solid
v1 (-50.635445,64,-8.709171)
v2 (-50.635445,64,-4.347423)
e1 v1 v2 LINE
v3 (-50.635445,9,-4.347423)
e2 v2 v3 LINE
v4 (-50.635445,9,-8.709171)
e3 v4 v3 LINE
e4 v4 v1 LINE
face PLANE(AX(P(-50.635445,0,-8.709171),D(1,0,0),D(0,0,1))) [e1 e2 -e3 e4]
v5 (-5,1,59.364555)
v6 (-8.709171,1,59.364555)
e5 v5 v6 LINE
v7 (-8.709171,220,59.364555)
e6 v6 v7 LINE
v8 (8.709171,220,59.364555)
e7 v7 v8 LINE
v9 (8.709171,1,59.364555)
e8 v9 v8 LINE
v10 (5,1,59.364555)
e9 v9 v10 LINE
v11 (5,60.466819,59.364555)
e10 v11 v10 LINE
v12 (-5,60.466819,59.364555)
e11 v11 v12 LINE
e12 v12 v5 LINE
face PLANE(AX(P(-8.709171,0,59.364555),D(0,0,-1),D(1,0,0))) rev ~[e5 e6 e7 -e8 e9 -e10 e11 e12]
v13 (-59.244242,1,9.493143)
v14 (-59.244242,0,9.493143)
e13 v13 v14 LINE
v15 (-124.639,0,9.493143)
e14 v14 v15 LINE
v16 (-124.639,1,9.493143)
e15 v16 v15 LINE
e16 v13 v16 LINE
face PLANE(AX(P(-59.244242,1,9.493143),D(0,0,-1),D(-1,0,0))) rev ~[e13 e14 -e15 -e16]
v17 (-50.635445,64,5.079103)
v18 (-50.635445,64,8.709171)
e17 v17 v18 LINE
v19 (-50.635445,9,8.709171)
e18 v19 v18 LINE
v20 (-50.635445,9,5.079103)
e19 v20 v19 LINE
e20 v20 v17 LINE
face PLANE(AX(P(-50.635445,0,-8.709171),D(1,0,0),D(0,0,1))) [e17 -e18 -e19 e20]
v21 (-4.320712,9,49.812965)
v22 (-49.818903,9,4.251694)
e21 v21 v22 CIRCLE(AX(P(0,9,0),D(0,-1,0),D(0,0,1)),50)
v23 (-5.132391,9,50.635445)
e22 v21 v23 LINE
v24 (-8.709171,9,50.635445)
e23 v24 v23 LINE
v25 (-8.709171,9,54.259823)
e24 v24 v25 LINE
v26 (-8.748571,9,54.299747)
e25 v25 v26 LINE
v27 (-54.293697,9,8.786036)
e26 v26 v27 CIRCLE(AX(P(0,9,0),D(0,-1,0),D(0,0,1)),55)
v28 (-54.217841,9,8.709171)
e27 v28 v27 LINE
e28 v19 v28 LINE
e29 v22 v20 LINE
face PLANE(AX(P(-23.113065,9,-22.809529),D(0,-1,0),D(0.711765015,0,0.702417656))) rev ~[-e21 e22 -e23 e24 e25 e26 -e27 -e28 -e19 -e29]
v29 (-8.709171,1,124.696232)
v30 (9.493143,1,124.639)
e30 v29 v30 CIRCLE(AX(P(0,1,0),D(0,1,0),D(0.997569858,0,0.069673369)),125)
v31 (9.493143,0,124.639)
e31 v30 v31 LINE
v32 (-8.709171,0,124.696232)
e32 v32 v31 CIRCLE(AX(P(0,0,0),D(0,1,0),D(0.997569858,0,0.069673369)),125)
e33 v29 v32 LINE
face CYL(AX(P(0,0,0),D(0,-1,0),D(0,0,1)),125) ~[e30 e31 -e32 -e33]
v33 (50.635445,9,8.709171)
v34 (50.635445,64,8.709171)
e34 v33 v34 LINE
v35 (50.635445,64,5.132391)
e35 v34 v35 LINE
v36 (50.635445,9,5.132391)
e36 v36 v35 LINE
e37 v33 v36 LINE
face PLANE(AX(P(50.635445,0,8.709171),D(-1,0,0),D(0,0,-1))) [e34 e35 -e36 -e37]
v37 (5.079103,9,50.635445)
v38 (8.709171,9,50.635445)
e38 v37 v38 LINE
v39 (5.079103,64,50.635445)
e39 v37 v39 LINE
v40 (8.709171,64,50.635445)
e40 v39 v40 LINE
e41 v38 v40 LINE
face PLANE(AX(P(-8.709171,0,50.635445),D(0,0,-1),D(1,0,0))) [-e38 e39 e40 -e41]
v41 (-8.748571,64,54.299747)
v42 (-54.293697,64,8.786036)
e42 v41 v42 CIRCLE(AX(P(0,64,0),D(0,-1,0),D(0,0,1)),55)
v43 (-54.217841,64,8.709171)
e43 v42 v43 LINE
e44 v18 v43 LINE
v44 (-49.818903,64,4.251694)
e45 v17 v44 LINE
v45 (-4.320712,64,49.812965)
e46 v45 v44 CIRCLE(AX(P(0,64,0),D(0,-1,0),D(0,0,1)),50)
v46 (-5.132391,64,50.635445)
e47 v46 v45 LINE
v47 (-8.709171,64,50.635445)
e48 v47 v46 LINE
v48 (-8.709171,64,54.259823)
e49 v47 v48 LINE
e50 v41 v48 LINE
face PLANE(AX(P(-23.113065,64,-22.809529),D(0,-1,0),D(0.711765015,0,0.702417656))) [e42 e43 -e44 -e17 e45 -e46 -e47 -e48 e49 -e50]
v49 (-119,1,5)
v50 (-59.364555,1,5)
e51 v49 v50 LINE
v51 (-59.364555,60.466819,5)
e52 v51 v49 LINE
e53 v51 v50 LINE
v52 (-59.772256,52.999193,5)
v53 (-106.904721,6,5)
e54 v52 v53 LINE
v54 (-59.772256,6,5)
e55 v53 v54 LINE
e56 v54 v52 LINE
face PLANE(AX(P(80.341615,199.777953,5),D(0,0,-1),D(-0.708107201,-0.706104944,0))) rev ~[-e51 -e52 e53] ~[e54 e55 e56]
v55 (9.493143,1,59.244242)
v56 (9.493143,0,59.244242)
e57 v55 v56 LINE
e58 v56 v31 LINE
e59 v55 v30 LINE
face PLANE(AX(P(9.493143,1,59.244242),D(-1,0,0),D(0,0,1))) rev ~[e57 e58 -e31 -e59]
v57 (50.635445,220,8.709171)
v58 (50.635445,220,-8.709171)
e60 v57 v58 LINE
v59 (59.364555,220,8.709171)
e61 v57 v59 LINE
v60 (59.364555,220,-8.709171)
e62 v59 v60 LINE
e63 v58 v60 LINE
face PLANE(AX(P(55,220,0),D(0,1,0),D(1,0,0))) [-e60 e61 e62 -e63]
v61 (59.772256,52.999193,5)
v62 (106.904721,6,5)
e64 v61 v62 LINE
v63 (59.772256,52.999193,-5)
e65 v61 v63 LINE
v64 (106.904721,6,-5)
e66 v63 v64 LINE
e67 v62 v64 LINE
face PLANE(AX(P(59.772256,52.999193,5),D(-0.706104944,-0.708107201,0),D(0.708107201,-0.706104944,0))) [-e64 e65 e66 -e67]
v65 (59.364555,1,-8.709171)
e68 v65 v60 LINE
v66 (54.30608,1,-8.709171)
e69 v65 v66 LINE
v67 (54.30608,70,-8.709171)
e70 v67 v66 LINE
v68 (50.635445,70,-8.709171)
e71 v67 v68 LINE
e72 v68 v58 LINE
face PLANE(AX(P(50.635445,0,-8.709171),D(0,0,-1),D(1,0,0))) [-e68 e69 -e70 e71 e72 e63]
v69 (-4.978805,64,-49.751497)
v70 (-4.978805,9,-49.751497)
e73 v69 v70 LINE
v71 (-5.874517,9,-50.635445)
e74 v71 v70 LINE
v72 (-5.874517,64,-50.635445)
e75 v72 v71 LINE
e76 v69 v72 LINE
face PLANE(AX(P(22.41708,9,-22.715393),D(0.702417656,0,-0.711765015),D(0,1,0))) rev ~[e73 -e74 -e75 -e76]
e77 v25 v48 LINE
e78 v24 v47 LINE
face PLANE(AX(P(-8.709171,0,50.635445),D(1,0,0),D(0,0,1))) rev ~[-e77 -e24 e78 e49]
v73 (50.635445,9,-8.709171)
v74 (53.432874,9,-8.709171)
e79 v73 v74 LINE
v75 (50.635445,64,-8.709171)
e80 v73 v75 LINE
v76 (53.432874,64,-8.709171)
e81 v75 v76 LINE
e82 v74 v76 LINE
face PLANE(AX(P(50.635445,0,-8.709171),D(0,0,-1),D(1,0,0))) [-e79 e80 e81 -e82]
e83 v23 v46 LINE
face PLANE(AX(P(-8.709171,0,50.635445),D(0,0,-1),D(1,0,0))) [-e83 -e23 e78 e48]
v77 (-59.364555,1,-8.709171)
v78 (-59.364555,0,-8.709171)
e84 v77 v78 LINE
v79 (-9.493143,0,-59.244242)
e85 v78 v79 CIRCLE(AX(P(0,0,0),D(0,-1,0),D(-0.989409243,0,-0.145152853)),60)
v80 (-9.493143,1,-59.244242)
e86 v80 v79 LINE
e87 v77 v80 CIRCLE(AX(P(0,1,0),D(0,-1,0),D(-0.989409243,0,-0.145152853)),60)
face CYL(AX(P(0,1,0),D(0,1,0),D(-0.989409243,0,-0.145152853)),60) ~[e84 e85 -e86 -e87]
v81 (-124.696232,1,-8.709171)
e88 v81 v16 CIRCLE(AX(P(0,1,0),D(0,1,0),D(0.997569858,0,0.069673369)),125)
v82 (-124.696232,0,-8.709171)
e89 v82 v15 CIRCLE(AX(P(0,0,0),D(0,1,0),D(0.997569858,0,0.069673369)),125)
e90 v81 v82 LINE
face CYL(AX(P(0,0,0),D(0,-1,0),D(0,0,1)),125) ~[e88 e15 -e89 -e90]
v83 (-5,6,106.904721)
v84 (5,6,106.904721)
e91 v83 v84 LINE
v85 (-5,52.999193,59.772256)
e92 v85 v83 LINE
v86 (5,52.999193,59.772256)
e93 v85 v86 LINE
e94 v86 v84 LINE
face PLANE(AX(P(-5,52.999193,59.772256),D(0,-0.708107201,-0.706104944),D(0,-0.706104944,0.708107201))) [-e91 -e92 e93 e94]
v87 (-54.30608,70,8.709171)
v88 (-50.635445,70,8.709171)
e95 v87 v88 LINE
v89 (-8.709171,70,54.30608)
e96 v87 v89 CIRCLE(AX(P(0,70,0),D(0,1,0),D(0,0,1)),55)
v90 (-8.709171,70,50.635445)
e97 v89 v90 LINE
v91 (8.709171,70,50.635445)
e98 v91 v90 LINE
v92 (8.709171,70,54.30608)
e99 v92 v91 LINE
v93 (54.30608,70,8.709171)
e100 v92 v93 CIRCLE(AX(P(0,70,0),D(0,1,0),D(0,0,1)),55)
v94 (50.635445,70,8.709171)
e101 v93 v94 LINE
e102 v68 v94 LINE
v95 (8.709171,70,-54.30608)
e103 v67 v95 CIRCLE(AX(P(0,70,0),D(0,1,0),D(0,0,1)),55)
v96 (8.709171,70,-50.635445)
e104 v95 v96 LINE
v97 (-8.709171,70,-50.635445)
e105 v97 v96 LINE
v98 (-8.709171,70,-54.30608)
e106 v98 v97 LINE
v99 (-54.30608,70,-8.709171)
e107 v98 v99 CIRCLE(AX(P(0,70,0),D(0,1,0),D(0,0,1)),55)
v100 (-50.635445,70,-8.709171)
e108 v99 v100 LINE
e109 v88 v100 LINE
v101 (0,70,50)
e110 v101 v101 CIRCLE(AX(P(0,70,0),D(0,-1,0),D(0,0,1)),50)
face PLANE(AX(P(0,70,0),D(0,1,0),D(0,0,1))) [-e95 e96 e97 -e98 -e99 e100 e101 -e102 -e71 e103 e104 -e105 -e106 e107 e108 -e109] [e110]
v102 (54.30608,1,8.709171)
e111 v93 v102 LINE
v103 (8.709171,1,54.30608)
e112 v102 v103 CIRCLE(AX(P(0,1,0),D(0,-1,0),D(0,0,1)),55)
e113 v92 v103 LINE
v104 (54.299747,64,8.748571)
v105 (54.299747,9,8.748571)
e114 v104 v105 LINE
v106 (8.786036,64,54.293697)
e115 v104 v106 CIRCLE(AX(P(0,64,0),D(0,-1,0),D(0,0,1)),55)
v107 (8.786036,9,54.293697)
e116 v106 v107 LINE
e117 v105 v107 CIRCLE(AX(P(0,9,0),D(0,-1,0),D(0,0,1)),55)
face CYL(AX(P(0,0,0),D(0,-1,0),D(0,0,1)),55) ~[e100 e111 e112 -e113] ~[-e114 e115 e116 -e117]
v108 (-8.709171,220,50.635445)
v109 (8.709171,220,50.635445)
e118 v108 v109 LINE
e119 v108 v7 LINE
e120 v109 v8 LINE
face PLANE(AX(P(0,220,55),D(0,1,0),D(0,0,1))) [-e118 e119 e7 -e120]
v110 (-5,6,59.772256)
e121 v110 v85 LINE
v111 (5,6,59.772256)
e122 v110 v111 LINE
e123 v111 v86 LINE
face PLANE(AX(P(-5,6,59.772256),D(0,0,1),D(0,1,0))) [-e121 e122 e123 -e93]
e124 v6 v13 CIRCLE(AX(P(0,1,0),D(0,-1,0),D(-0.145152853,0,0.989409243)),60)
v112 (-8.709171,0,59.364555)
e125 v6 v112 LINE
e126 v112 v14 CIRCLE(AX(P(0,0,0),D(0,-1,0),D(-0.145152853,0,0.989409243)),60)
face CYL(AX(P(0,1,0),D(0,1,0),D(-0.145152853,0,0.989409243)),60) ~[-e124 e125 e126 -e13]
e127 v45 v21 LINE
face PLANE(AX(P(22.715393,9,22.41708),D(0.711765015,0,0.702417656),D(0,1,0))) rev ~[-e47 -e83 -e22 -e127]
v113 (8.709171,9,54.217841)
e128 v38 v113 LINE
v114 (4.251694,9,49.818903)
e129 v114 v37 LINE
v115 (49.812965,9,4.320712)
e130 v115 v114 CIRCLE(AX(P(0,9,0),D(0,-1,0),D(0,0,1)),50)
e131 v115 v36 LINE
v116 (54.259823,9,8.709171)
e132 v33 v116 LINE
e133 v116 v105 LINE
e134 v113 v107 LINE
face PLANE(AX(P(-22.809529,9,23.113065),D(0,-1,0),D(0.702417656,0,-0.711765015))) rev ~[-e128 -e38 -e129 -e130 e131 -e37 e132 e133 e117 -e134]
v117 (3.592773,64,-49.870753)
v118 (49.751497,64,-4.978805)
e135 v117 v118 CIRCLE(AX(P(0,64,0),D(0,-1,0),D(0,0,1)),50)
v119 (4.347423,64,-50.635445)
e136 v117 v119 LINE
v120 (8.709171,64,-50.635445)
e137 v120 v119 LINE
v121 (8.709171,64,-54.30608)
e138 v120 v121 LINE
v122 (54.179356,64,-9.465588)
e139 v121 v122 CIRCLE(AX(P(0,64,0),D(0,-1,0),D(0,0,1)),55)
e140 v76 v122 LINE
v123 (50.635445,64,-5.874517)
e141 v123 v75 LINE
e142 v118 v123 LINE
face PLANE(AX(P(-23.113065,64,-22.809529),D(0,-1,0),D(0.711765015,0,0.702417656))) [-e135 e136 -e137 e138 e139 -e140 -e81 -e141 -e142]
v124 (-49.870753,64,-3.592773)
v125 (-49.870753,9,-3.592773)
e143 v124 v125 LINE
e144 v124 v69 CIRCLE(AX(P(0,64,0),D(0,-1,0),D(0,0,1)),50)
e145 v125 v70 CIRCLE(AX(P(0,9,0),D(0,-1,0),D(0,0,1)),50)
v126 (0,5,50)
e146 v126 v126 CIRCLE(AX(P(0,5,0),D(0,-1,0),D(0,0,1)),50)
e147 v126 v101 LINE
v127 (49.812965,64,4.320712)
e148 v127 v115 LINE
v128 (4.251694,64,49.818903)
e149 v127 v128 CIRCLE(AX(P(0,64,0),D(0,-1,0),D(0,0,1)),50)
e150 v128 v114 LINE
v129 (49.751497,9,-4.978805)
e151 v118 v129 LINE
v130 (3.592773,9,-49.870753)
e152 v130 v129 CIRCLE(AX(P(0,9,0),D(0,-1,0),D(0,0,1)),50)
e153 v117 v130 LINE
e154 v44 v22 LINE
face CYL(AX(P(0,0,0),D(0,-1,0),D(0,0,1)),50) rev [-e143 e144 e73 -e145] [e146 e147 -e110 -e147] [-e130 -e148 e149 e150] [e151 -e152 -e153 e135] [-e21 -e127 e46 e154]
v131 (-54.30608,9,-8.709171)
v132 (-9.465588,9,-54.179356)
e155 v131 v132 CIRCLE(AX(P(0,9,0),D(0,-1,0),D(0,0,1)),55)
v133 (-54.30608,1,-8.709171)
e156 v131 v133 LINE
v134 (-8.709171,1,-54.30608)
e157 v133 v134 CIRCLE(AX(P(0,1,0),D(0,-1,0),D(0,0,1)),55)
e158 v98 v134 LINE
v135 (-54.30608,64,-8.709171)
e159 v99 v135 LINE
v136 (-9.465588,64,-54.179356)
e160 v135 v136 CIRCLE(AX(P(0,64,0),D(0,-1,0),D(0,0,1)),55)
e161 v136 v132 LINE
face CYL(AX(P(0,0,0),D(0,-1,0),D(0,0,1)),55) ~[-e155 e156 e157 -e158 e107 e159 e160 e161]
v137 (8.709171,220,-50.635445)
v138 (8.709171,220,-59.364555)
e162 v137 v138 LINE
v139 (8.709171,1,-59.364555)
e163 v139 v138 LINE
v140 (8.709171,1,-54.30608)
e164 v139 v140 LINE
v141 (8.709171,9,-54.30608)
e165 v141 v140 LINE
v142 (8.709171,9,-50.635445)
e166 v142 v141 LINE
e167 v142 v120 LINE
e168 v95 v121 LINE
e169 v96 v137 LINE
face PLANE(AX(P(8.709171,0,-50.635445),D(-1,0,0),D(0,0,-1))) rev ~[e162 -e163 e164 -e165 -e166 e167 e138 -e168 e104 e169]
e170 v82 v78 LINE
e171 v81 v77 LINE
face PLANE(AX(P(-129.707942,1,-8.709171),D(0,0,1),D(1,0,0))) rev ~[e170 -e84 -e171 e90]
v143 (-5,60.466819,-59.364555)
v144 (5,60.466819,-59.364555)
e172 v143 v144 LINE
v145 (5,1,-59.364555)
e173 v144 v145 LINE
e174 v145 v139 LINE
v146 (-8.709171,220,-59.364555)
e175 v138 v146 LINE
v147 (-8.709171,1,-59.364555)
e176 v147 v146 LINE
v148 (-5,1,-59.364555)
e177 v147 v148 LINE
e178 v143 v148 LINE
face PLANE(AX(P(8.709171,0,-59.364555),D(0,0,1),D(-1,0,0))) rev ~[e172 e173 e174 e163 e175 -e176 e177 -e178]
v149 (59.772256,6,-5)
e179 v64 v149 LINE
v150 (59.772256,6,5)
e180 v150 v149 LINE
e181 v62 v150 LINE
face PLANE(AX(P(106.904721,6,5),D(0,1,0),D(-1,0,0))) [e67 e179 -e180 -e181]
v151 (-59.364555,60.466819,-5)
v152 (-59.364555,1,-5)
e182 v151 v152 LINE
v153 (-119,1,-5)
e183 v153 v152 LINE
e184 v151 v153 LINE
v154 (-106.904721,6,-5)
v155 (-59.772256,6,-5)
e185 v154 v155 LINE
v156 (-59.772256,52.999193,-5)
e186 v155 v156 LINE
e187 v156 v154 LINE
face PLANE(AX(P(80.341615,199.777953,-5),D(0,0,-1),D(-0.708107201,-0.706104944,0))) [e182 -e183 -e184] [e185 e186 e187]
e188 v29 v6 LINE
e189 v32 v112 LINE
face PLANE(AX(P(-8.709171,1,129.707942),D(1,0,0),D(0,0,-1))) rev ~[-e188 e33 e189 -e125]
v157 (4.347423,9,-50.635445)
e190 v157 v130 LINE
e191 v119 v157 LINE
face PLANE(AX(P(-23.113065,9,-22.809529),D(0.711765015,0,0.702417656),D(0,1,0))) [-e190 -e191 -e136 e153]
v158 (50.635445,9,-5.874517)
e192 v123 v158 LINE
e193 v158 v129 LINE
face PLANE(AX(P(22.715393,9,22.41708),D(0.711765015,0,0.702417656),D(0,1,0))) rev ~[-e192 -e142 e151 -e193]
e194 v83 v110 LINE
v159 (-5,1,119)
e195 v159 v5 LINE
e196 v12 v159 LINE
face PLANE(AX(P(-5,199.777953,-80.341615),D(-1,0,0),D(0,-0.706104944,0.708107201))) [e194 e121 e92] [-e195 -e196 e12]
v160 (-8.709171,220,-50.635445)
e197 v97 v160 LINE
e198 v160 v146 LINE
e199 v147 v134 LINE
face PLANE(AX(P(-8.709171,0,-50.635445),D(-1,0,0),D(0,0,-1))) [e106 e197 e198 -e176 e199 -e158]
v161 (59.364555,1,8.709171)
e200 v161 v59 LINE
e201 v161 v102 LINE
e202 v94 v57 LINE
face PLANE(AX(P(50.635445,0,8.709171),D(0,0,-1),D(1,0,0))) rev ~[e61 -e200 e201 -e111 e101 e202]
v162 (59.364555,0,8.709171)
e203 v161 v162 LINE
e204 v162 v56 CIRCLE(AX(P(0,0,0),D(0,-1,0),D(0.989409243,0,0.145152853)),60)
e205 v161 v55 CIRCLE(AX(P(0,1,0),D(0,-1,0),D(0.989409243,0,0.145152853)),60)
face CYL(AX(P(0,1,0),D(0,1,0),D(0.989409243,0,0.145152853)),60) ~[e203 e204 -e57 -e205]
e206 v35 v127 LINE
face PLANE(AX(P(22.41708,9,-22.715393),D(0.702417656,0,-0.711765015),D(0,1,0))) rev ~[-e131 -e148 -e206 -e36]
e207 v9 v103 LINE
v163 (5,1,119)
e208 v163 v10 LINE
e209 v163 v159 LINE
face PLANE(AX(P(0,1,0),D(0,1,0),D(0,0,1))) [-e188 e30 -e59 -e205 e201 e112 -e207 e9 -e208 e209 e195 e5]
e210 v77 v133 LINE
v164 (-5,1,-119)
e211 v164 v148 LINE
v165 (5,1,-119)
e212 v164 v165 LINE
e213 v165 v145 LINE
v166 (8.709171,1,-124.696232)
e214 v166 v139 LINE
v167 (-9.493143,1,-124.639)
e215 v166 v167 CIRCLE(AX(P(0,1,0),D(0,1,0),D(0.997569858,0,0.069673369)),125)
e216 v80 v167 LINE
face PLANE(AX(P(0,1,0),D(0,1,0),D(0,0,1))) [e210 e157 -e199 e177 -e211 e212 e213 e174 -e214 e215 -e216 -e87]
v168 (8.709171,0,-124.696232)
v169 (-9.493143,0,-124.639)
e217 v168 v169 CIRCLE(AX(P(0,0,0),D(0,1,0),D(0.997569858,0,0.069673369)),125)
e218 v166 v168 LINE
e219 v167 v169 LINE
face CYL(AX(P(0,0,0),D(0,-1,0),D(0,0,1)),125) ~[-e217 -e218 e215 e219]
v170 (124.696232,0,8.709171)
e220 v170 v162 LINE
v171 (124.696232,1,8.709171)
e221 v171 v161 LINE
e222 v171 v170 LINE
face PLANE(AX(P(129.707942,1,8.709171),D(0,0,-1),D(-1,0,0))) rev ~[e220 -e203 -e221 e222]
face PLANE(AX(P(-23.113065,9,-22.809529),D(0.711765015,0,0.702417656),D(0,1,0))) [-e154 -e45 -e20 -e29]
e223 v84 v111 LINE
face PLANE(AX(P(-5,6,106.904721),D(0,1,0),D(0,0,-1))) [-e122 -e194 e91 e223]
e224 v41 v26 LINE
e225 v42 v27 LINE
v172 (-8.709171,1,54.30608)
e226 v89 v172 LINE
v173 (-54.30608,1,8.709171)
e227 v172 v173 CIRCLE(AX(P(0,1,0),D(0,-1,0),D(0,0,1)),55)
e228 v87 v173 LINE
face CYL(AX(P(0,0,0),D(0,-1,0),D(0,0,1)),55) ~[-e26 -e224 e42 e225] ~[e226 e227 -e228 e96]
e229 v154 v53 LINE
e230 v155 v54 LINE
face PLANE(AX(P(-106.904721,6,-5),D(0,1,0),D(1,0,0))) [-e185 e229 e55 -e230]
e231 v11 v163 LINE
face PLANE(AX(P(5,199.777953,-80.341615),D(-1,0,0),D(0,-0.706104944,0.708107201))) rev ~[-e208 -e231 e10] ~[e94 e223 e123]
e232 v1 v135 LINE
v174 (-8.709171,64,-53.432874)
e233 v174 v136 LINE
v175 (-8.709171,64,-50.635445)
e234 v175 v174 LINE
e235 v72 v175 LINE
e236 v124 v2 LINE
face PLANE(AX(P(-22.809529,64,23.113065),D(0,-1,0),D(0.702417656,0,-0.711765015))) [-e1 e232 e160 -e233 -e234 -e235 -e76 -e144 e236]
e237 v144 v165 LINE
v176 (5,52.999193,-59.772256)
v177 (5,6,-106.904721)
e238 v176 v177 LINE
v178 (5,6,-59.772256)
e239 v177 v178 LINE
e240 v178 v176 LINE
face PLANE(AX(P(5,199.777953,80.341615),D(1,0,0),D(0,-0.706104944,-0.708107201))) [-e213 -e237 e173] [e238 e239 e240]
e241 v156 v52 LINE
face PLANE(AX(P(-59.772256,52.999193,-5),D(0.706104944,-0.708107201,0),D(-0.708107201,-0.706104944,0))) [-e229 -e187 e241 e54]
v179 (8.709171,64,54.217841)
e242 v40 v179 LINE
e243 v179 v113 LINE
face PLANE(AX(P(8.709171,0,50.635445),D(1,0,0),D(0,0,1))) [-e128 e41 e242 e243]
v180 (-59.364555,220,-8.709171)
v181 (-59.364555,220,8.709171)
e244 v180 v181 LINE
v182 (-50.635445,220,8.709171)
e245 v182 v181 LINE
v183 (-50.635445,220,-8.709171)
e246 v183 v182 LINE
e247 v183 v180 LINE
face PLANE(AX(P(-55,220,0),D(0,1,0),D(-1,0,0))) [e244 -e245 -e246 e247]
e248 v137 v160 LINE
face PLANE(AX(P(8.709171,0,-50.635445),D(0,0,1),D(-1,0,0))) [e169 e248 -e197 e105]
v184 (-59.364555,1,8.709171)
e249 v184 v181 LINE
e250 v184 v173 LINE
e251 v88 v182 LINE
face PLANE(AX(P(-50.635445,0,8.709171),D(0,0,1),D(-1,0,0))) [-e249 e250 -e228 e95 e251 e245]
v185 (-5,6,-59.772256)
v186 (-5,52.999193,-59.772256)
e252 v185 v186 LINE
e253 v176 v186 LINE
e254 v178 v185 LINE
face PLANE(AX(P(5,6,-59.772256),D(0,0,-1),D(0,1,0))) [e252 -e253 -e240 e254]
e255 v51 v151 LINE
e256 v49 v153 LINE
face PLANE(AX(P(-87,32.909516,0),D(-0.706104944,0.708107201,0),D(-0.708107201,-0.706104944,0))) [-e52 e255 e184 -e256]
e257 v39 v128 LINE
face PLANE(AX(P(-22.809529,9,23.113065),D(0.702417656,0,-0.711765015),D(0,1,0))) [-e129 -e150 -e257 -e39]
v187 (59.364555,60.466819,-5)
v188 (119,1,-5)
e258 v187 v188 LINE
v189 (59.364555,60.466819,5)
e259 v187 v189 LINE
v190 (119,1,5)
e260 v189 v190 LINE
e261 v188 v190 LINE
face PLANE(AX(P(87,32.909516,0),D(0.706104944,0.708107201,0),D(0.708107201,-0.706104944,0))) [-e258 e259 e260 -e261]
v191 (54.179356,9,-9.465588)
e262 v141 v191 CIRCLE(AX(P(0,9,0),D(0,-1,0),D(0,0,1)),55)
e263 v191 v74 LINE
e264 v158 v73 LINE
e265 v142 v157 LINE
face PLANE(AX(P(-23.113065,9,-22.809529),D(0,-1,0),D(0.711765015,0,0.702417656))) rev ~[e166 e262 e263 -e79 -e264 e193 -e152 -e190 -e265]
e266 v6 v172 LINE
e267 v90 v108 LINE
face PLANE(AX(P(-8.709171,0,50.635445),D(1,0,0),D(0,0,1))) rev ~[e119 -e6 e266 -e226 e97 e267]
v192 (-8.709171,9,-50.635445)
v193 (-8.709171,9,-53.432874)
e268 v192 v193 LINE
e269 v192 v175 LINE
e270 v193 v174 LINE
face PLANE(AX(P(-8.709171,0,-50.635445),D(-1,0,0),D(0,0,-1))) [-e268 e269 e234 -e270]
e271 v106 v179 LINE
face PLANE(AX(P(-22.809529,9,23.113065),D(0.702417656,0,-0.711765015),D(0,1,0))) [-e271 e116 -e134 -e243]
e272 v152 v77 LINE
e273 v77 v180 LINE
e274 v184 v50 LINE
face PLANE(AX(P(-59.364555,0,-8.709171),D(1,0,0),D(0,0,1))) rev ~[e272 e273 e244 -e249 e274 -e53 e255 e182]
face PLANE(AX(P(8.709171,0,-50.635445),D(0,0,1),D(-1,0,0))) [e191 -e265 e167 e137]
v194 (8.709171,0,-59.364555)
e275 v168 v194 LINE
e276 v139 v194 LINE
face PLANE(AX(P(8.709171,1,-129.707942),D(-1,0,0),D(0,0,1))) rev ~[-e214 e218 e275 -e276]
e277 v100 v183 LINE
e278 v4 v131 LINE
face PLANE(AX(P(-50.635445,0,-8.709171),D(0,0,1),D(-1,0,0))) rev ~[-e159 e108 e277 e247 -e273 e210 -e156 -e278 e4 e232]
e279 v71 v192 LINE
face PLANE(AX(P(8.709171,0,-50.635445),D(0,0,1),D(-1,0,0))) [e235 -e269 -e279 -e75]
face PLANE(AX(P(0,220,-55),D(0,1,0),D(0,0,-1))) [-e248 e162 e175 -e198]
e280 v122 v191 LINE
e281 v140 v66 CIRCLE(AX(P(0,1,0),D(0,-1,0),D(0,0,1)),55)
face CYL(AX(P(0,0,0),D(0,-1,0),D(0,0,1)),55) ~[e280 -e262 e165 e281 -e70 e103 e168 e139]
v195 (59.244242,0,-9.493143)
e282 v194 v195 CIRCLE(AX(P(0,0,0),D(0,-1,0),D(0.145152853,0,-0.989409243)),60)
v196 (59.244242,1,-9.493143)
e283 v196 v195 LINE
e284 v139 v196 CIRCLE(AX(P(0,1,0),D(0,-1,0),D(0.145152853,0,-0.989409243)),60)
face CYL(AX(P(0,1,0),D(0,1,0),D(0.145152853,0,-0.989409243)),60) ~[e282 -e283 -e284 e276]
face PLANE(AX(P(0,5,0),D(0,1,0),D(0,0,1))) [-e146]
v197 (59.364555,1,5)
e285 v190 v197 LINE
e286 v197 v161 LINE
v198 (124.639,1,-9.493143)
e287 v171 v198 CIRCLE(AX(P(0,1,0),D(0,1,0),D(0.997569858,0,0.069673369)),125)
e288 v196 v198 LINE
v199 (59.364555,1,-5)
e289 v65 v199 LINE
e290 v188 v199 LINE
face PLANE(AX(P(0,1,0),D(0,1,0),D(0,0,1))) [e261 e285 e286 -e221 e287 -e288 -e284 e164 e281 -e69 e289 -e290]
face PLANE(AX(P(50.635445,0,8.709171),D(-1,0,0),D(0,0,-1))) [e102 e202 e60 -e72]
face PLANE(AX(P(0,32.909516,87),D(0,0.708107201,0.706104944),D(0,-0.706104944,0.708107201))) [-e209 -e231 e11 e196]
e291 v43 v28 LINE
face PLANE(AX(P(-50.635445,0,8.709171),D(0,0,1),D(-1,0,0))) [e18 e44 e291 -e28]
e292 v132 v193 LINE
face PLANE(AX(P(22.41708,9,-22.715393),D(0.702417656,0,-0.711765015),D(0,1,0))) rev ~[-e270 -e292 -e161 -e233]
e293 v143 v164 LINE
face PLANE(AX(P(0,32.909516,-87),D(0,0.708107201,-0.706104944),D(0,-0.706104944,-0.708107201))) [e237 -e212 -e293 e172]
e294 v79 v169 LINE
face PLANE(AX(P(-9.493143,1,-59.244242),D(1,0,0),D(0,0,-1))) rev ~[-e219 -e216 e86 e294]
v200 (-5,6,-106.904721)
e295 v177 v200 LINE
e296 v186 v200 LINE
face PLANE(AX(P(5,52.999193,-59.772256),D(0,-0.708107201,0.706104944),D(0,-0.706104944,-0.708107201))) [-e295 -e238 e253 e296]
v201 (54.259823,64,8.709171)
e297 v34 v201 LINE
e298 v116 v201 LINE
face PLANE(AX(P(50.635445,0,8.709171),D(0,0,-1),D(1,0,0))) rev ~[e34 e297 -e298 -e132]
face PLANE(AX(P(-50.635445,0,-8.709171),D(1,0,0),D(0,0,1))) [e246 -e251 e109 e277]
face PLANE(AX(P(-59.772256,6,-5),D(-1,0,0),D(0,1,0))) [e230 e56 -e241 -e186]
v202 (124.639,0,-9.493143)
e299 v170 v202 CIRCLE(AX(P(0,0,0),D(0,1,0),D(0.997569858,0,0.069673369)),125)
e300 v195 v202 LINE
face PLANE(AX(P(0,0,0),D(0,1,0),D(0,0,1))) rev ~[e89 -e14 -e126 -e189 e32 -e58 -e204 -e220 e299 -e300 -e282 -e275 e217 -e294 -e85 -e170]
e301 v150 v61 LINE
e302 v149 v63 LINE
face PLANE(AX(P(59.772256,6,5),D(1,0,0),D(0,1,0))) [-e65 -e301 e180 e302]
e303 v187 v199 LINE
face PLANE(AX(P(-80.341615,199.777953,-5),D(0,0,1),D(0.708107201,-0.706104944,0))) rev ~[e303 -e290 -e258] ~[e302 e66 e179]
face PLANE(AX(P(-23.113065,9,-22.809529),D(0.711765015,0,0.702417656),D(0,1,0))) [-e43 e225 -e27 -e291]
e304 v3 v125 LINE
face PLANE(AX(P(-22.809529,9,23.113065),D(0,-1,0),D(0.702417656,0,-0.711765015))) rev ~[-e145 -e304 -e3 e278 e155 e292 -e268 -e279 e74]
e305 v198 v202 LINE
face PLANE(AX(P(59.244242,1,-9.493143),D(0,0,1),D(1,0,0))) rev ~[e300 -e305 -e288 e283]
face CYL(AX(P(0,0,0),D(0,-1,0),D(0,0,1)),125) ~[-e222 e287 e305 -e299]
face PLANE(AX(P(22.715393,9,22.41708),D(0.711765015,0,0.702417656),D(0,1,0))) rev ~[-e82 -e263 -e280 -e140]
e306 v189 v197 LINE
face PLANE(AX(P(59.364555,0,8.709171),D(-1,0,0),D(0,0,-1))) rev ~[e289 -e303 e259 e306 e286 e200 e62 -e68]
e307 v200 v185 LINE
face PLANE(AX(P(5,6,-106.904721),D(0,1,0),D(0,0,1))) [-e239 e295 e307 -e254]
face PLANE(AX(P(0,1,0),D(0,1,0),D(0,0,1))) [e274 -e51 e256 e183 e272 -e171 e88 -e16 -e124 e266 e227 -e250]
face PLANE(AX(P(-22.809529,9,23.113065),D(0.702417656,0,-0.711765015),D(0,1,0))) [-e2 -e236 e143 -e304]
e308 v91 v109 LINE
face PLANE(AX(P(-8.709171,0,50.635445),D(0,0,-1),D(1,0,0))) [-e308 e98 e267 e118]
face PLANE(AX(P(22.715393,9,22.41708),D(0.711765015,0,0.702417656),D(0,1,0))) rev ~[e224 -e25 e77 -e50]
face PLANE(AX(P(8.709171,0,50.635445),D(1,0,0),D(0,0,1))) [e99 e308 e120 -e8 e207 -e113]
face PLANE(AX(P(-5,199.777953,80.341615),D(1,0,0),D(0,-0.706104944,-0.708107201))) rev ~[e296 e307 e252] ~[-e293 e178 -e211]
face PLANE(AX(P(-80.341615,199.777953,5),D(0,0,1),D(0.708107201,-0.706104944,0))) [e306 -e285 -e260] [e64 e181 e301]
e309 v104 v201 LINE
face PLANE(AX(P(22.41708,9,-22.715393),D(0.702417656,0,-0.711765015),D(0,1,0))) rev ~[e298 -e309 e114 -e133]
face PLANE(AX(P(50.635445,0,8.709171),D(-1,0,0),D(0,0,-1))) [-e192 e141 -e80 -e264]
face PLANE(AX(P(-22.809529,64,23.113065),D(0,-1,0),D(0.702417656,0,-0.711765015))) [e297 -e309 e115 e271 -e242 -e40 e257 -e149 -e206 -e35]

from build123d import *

# Parameters (mm, degrees)
SKETCH2_R           = 55
BOSS_EXTRUDE1_DEPTH = 70
SHELL1_T            = -5
SKETCH4_R           = 125
BOSS_EXTRUDE2_DEPTH = 1
RIB7_REACH          = 192.132
SKETCH3_WALL_W      = 472.644862012
SKETCH3_WALL_H      = 10
CIRPATTERN1_COUNT   = 4
CUT_EXTRUDE1_DEPTH  = 1
CIRPATTERN2_COUNT   = 4
CUT_EXTRUDE2_DEPTH  = 194.455421222
CIRPATTERN3_COUNT   = 4
SKETCH10_W          = 64.387061578
SKETCH10_H          = 55
CUT_EXTRUDE3_DEPTH  = 191.131533418
CIRPATTERN4_COUNT   = 2
CIRPATTERN4_ANGLE   = 90
BOSS_EXTRUDE3_START = -70
SKETCH11_W          = 8.729109108
SKETCH11_H          = 17.418342354
BOSS_EXTRUDE3_DEPTH = 220
CIRPATTERN5_COUNT   = 4


with BuildPart() as part:
    # Sketch2 → Boss-Extrude1 (new body)
    with BuildSketch(Plane(origin=(0, 0, 0), x_dir=(1, 0, 0), z_dir=(0, 1, 0))):
        with Locations(Location((0, 0, 0), (0, 0, 270))):
            Circle(SKETCH2_R)
    extrude(amount=BOSS_EXTRUDE1_DEPTH)

    # Shell1
    shell1_openings = [part.faces().sort_by_distance(p)[0] for p in [
        (0, 70, 0),
    ]]
    offset(amount=SHELL1_T, openings=shell1_openings, kind=Kind.INTERSECTION)

    # Sketch4 → Boss-Extrude2 (add)
    with BuildSketch(Plane(origin=(0, 0, 0), x_dir=(1, 0, 0), z_dir=(0, 1, 0))):
        with Locations(Location((0, 0, 0), (0, 0, 270))):
            Circle(SKETCH4_R)
    extrude(amount=BOSS_EXTRUDE2_DEPTH)

    # Sketch3 wall → Rib7 (add, up to next)
    with BuildSketch(Plane(origin=(87, 32.90951621, 0), x_dir=(0.708107200971, -0.706104943994, 0), z_dir=(0.706104943994, 0.708107200971, 0)), mode=Mode.PRIVATE) as rib7_sk1:
        Rectangle(SKETCH3_WALL_W, SKETCH3_WALL_H)
    rib7_tool1 = extrude(rib7_sk1.sketch, amount=-RIB7_REACH, mode=Mode.PRIVATE) - part.part
    rib7 = rib7_tool1.solids().sort_by_distance((87, 32.90951621, 0))[0]
    add(rib7)

    # CirPattern1: Rib7 ×4 about axis
    cirpattern1_axis = Axis((0, 0, 0), (0, 1, 0))
    for i in range(1, CIRPATTERN1_COUNT):
        add(rib7.rotate(cirpattern1_axis, i * 360 / CIRPATTERN1_COUNT))

    # Sketch5 → Cut-Extrude1 (cut)
    with BuildSketch(Plane(origin=(0, 1, 0), x_dir=(1, 0, 0), z_dir=(0, 1, 0))):
        with BuildLine():
            Line((9.493142678, -59.24424227), (9.493142678, -129.652922227))
            ThreePointArc((9.493142678, -129.652922227), (92.201319164, -91.645604065), (129.707942461, -8.709171177))
            Line((129.707942461, -8.709171177), (59.364554554, -8.709171177))
            ThreePointArc((59.364554554, -8.709171177), (42.705900876, -42.145059383), (9.493142678, -59.24424227))
        make_face()
    cut_extrude1 = extrude(amount=-CUT_EXTRUDE1_DEPTH, mode=Mode.SUBTRACT)

    # CirPattern2: Cut-Extrude1 ×4 about axis
    cirpattern2_axis = Axis((0, 0, 0), (0, 1, 0))
    for i in range(1, CIRPATTERN2_COUNT):
        add(cut_extrude1.rotate(cirpattern2_axis, i * 360 / CIRPATTERN2_COUNT), mode=Mode.SUBTRACT)

    # Sketch7 → Cut-Extrude2 (cut, through all)
    with BuildSketch(Plane(origin=(5, 0, 0), x_dir=(0, 0, -1), z_dir=(1, 0, 0))):
        Polygon((59.772255751, 52.99919304), (106.904721419, 6), (59.772255751, 6), align=None)
    cut_extrude2 = extrude(amount=-CUT_EXTRUDE2_DEPTH, mode=Mode.SUBTRACT)

    # CirPattern3: Cut-Extrude2 ×4 about axis
    cirpattern3_axis = Axis((0, 0, 0), (0, 1, 0))
    for i in range(1, CIRPATTERN3_COUNT):
        add(cut_extrude2.rotate(cirpattern3_axis, i * 360 / CIRPATTERN3_COUNT), mode=Mode.SUBTRACT)

    # Sketch10 → Cut-Extrude3 (cut, symmetric)
    with BuildSketch(Plane(origin=(0, 0, 0), x_dir=(0.7117650145966598, -3.2873850610052313e-15, 0.7024176563813135), z_dir=(-0.7024176563813135, -3.331131634682351e-15, 0.7117650145966598))):
        with Locations((-0.279356343, 36.5)):
            Rectangle(SKETCH10_W, SKETCH10_H)
    cut_extrude3 = extrude(amount=CUT_EXTRUDE3_DEPTH, both=True, mode=Mode.SUBTRACT)

    # CirPattern4: Cut-Extrude3 ×2 about axis
    cirpattern4_axis = Axis((0, 70, 0), (0, 1, 0))
    for i in range(1, CIRPATTERN4_COUNT):
        add(cut_extrude3.rotate(cirpattern4_axis, i * CIRPATTERN4_ANGLE / (CIRPATTERN4_COUNT - 1)), mode=Mode.SUBTRACT)

    # Sketch11 → Boss-Extrude3 (add)
    with BuildSketch(Plane(origin=(0, 70, 0), x_dir=(1, 0, 0), z_dir=(0, 1, 0)).offset(BOSS_EXTRUDE3_START)):
        with Locations((55, 0)):
            Rectangle(SKETCH11_W, SKETCH11_H)
    boss_extrude3 = extrude(amount=BOSS_EXTRUDE3_DEPTH)

    # CirPattern5: Boss-Extrude3 ×4 about axis
    cirpattern5_axis = Axis((0, 0, 0), (0, 1, 0))
    for i in range(1, CIRPATTERN5_COUNT):
        add(boss_extrude3.rotate(cirpattern5_axis, i * 360 / CIRPATTERN5_COUNT))


solid = part.part
